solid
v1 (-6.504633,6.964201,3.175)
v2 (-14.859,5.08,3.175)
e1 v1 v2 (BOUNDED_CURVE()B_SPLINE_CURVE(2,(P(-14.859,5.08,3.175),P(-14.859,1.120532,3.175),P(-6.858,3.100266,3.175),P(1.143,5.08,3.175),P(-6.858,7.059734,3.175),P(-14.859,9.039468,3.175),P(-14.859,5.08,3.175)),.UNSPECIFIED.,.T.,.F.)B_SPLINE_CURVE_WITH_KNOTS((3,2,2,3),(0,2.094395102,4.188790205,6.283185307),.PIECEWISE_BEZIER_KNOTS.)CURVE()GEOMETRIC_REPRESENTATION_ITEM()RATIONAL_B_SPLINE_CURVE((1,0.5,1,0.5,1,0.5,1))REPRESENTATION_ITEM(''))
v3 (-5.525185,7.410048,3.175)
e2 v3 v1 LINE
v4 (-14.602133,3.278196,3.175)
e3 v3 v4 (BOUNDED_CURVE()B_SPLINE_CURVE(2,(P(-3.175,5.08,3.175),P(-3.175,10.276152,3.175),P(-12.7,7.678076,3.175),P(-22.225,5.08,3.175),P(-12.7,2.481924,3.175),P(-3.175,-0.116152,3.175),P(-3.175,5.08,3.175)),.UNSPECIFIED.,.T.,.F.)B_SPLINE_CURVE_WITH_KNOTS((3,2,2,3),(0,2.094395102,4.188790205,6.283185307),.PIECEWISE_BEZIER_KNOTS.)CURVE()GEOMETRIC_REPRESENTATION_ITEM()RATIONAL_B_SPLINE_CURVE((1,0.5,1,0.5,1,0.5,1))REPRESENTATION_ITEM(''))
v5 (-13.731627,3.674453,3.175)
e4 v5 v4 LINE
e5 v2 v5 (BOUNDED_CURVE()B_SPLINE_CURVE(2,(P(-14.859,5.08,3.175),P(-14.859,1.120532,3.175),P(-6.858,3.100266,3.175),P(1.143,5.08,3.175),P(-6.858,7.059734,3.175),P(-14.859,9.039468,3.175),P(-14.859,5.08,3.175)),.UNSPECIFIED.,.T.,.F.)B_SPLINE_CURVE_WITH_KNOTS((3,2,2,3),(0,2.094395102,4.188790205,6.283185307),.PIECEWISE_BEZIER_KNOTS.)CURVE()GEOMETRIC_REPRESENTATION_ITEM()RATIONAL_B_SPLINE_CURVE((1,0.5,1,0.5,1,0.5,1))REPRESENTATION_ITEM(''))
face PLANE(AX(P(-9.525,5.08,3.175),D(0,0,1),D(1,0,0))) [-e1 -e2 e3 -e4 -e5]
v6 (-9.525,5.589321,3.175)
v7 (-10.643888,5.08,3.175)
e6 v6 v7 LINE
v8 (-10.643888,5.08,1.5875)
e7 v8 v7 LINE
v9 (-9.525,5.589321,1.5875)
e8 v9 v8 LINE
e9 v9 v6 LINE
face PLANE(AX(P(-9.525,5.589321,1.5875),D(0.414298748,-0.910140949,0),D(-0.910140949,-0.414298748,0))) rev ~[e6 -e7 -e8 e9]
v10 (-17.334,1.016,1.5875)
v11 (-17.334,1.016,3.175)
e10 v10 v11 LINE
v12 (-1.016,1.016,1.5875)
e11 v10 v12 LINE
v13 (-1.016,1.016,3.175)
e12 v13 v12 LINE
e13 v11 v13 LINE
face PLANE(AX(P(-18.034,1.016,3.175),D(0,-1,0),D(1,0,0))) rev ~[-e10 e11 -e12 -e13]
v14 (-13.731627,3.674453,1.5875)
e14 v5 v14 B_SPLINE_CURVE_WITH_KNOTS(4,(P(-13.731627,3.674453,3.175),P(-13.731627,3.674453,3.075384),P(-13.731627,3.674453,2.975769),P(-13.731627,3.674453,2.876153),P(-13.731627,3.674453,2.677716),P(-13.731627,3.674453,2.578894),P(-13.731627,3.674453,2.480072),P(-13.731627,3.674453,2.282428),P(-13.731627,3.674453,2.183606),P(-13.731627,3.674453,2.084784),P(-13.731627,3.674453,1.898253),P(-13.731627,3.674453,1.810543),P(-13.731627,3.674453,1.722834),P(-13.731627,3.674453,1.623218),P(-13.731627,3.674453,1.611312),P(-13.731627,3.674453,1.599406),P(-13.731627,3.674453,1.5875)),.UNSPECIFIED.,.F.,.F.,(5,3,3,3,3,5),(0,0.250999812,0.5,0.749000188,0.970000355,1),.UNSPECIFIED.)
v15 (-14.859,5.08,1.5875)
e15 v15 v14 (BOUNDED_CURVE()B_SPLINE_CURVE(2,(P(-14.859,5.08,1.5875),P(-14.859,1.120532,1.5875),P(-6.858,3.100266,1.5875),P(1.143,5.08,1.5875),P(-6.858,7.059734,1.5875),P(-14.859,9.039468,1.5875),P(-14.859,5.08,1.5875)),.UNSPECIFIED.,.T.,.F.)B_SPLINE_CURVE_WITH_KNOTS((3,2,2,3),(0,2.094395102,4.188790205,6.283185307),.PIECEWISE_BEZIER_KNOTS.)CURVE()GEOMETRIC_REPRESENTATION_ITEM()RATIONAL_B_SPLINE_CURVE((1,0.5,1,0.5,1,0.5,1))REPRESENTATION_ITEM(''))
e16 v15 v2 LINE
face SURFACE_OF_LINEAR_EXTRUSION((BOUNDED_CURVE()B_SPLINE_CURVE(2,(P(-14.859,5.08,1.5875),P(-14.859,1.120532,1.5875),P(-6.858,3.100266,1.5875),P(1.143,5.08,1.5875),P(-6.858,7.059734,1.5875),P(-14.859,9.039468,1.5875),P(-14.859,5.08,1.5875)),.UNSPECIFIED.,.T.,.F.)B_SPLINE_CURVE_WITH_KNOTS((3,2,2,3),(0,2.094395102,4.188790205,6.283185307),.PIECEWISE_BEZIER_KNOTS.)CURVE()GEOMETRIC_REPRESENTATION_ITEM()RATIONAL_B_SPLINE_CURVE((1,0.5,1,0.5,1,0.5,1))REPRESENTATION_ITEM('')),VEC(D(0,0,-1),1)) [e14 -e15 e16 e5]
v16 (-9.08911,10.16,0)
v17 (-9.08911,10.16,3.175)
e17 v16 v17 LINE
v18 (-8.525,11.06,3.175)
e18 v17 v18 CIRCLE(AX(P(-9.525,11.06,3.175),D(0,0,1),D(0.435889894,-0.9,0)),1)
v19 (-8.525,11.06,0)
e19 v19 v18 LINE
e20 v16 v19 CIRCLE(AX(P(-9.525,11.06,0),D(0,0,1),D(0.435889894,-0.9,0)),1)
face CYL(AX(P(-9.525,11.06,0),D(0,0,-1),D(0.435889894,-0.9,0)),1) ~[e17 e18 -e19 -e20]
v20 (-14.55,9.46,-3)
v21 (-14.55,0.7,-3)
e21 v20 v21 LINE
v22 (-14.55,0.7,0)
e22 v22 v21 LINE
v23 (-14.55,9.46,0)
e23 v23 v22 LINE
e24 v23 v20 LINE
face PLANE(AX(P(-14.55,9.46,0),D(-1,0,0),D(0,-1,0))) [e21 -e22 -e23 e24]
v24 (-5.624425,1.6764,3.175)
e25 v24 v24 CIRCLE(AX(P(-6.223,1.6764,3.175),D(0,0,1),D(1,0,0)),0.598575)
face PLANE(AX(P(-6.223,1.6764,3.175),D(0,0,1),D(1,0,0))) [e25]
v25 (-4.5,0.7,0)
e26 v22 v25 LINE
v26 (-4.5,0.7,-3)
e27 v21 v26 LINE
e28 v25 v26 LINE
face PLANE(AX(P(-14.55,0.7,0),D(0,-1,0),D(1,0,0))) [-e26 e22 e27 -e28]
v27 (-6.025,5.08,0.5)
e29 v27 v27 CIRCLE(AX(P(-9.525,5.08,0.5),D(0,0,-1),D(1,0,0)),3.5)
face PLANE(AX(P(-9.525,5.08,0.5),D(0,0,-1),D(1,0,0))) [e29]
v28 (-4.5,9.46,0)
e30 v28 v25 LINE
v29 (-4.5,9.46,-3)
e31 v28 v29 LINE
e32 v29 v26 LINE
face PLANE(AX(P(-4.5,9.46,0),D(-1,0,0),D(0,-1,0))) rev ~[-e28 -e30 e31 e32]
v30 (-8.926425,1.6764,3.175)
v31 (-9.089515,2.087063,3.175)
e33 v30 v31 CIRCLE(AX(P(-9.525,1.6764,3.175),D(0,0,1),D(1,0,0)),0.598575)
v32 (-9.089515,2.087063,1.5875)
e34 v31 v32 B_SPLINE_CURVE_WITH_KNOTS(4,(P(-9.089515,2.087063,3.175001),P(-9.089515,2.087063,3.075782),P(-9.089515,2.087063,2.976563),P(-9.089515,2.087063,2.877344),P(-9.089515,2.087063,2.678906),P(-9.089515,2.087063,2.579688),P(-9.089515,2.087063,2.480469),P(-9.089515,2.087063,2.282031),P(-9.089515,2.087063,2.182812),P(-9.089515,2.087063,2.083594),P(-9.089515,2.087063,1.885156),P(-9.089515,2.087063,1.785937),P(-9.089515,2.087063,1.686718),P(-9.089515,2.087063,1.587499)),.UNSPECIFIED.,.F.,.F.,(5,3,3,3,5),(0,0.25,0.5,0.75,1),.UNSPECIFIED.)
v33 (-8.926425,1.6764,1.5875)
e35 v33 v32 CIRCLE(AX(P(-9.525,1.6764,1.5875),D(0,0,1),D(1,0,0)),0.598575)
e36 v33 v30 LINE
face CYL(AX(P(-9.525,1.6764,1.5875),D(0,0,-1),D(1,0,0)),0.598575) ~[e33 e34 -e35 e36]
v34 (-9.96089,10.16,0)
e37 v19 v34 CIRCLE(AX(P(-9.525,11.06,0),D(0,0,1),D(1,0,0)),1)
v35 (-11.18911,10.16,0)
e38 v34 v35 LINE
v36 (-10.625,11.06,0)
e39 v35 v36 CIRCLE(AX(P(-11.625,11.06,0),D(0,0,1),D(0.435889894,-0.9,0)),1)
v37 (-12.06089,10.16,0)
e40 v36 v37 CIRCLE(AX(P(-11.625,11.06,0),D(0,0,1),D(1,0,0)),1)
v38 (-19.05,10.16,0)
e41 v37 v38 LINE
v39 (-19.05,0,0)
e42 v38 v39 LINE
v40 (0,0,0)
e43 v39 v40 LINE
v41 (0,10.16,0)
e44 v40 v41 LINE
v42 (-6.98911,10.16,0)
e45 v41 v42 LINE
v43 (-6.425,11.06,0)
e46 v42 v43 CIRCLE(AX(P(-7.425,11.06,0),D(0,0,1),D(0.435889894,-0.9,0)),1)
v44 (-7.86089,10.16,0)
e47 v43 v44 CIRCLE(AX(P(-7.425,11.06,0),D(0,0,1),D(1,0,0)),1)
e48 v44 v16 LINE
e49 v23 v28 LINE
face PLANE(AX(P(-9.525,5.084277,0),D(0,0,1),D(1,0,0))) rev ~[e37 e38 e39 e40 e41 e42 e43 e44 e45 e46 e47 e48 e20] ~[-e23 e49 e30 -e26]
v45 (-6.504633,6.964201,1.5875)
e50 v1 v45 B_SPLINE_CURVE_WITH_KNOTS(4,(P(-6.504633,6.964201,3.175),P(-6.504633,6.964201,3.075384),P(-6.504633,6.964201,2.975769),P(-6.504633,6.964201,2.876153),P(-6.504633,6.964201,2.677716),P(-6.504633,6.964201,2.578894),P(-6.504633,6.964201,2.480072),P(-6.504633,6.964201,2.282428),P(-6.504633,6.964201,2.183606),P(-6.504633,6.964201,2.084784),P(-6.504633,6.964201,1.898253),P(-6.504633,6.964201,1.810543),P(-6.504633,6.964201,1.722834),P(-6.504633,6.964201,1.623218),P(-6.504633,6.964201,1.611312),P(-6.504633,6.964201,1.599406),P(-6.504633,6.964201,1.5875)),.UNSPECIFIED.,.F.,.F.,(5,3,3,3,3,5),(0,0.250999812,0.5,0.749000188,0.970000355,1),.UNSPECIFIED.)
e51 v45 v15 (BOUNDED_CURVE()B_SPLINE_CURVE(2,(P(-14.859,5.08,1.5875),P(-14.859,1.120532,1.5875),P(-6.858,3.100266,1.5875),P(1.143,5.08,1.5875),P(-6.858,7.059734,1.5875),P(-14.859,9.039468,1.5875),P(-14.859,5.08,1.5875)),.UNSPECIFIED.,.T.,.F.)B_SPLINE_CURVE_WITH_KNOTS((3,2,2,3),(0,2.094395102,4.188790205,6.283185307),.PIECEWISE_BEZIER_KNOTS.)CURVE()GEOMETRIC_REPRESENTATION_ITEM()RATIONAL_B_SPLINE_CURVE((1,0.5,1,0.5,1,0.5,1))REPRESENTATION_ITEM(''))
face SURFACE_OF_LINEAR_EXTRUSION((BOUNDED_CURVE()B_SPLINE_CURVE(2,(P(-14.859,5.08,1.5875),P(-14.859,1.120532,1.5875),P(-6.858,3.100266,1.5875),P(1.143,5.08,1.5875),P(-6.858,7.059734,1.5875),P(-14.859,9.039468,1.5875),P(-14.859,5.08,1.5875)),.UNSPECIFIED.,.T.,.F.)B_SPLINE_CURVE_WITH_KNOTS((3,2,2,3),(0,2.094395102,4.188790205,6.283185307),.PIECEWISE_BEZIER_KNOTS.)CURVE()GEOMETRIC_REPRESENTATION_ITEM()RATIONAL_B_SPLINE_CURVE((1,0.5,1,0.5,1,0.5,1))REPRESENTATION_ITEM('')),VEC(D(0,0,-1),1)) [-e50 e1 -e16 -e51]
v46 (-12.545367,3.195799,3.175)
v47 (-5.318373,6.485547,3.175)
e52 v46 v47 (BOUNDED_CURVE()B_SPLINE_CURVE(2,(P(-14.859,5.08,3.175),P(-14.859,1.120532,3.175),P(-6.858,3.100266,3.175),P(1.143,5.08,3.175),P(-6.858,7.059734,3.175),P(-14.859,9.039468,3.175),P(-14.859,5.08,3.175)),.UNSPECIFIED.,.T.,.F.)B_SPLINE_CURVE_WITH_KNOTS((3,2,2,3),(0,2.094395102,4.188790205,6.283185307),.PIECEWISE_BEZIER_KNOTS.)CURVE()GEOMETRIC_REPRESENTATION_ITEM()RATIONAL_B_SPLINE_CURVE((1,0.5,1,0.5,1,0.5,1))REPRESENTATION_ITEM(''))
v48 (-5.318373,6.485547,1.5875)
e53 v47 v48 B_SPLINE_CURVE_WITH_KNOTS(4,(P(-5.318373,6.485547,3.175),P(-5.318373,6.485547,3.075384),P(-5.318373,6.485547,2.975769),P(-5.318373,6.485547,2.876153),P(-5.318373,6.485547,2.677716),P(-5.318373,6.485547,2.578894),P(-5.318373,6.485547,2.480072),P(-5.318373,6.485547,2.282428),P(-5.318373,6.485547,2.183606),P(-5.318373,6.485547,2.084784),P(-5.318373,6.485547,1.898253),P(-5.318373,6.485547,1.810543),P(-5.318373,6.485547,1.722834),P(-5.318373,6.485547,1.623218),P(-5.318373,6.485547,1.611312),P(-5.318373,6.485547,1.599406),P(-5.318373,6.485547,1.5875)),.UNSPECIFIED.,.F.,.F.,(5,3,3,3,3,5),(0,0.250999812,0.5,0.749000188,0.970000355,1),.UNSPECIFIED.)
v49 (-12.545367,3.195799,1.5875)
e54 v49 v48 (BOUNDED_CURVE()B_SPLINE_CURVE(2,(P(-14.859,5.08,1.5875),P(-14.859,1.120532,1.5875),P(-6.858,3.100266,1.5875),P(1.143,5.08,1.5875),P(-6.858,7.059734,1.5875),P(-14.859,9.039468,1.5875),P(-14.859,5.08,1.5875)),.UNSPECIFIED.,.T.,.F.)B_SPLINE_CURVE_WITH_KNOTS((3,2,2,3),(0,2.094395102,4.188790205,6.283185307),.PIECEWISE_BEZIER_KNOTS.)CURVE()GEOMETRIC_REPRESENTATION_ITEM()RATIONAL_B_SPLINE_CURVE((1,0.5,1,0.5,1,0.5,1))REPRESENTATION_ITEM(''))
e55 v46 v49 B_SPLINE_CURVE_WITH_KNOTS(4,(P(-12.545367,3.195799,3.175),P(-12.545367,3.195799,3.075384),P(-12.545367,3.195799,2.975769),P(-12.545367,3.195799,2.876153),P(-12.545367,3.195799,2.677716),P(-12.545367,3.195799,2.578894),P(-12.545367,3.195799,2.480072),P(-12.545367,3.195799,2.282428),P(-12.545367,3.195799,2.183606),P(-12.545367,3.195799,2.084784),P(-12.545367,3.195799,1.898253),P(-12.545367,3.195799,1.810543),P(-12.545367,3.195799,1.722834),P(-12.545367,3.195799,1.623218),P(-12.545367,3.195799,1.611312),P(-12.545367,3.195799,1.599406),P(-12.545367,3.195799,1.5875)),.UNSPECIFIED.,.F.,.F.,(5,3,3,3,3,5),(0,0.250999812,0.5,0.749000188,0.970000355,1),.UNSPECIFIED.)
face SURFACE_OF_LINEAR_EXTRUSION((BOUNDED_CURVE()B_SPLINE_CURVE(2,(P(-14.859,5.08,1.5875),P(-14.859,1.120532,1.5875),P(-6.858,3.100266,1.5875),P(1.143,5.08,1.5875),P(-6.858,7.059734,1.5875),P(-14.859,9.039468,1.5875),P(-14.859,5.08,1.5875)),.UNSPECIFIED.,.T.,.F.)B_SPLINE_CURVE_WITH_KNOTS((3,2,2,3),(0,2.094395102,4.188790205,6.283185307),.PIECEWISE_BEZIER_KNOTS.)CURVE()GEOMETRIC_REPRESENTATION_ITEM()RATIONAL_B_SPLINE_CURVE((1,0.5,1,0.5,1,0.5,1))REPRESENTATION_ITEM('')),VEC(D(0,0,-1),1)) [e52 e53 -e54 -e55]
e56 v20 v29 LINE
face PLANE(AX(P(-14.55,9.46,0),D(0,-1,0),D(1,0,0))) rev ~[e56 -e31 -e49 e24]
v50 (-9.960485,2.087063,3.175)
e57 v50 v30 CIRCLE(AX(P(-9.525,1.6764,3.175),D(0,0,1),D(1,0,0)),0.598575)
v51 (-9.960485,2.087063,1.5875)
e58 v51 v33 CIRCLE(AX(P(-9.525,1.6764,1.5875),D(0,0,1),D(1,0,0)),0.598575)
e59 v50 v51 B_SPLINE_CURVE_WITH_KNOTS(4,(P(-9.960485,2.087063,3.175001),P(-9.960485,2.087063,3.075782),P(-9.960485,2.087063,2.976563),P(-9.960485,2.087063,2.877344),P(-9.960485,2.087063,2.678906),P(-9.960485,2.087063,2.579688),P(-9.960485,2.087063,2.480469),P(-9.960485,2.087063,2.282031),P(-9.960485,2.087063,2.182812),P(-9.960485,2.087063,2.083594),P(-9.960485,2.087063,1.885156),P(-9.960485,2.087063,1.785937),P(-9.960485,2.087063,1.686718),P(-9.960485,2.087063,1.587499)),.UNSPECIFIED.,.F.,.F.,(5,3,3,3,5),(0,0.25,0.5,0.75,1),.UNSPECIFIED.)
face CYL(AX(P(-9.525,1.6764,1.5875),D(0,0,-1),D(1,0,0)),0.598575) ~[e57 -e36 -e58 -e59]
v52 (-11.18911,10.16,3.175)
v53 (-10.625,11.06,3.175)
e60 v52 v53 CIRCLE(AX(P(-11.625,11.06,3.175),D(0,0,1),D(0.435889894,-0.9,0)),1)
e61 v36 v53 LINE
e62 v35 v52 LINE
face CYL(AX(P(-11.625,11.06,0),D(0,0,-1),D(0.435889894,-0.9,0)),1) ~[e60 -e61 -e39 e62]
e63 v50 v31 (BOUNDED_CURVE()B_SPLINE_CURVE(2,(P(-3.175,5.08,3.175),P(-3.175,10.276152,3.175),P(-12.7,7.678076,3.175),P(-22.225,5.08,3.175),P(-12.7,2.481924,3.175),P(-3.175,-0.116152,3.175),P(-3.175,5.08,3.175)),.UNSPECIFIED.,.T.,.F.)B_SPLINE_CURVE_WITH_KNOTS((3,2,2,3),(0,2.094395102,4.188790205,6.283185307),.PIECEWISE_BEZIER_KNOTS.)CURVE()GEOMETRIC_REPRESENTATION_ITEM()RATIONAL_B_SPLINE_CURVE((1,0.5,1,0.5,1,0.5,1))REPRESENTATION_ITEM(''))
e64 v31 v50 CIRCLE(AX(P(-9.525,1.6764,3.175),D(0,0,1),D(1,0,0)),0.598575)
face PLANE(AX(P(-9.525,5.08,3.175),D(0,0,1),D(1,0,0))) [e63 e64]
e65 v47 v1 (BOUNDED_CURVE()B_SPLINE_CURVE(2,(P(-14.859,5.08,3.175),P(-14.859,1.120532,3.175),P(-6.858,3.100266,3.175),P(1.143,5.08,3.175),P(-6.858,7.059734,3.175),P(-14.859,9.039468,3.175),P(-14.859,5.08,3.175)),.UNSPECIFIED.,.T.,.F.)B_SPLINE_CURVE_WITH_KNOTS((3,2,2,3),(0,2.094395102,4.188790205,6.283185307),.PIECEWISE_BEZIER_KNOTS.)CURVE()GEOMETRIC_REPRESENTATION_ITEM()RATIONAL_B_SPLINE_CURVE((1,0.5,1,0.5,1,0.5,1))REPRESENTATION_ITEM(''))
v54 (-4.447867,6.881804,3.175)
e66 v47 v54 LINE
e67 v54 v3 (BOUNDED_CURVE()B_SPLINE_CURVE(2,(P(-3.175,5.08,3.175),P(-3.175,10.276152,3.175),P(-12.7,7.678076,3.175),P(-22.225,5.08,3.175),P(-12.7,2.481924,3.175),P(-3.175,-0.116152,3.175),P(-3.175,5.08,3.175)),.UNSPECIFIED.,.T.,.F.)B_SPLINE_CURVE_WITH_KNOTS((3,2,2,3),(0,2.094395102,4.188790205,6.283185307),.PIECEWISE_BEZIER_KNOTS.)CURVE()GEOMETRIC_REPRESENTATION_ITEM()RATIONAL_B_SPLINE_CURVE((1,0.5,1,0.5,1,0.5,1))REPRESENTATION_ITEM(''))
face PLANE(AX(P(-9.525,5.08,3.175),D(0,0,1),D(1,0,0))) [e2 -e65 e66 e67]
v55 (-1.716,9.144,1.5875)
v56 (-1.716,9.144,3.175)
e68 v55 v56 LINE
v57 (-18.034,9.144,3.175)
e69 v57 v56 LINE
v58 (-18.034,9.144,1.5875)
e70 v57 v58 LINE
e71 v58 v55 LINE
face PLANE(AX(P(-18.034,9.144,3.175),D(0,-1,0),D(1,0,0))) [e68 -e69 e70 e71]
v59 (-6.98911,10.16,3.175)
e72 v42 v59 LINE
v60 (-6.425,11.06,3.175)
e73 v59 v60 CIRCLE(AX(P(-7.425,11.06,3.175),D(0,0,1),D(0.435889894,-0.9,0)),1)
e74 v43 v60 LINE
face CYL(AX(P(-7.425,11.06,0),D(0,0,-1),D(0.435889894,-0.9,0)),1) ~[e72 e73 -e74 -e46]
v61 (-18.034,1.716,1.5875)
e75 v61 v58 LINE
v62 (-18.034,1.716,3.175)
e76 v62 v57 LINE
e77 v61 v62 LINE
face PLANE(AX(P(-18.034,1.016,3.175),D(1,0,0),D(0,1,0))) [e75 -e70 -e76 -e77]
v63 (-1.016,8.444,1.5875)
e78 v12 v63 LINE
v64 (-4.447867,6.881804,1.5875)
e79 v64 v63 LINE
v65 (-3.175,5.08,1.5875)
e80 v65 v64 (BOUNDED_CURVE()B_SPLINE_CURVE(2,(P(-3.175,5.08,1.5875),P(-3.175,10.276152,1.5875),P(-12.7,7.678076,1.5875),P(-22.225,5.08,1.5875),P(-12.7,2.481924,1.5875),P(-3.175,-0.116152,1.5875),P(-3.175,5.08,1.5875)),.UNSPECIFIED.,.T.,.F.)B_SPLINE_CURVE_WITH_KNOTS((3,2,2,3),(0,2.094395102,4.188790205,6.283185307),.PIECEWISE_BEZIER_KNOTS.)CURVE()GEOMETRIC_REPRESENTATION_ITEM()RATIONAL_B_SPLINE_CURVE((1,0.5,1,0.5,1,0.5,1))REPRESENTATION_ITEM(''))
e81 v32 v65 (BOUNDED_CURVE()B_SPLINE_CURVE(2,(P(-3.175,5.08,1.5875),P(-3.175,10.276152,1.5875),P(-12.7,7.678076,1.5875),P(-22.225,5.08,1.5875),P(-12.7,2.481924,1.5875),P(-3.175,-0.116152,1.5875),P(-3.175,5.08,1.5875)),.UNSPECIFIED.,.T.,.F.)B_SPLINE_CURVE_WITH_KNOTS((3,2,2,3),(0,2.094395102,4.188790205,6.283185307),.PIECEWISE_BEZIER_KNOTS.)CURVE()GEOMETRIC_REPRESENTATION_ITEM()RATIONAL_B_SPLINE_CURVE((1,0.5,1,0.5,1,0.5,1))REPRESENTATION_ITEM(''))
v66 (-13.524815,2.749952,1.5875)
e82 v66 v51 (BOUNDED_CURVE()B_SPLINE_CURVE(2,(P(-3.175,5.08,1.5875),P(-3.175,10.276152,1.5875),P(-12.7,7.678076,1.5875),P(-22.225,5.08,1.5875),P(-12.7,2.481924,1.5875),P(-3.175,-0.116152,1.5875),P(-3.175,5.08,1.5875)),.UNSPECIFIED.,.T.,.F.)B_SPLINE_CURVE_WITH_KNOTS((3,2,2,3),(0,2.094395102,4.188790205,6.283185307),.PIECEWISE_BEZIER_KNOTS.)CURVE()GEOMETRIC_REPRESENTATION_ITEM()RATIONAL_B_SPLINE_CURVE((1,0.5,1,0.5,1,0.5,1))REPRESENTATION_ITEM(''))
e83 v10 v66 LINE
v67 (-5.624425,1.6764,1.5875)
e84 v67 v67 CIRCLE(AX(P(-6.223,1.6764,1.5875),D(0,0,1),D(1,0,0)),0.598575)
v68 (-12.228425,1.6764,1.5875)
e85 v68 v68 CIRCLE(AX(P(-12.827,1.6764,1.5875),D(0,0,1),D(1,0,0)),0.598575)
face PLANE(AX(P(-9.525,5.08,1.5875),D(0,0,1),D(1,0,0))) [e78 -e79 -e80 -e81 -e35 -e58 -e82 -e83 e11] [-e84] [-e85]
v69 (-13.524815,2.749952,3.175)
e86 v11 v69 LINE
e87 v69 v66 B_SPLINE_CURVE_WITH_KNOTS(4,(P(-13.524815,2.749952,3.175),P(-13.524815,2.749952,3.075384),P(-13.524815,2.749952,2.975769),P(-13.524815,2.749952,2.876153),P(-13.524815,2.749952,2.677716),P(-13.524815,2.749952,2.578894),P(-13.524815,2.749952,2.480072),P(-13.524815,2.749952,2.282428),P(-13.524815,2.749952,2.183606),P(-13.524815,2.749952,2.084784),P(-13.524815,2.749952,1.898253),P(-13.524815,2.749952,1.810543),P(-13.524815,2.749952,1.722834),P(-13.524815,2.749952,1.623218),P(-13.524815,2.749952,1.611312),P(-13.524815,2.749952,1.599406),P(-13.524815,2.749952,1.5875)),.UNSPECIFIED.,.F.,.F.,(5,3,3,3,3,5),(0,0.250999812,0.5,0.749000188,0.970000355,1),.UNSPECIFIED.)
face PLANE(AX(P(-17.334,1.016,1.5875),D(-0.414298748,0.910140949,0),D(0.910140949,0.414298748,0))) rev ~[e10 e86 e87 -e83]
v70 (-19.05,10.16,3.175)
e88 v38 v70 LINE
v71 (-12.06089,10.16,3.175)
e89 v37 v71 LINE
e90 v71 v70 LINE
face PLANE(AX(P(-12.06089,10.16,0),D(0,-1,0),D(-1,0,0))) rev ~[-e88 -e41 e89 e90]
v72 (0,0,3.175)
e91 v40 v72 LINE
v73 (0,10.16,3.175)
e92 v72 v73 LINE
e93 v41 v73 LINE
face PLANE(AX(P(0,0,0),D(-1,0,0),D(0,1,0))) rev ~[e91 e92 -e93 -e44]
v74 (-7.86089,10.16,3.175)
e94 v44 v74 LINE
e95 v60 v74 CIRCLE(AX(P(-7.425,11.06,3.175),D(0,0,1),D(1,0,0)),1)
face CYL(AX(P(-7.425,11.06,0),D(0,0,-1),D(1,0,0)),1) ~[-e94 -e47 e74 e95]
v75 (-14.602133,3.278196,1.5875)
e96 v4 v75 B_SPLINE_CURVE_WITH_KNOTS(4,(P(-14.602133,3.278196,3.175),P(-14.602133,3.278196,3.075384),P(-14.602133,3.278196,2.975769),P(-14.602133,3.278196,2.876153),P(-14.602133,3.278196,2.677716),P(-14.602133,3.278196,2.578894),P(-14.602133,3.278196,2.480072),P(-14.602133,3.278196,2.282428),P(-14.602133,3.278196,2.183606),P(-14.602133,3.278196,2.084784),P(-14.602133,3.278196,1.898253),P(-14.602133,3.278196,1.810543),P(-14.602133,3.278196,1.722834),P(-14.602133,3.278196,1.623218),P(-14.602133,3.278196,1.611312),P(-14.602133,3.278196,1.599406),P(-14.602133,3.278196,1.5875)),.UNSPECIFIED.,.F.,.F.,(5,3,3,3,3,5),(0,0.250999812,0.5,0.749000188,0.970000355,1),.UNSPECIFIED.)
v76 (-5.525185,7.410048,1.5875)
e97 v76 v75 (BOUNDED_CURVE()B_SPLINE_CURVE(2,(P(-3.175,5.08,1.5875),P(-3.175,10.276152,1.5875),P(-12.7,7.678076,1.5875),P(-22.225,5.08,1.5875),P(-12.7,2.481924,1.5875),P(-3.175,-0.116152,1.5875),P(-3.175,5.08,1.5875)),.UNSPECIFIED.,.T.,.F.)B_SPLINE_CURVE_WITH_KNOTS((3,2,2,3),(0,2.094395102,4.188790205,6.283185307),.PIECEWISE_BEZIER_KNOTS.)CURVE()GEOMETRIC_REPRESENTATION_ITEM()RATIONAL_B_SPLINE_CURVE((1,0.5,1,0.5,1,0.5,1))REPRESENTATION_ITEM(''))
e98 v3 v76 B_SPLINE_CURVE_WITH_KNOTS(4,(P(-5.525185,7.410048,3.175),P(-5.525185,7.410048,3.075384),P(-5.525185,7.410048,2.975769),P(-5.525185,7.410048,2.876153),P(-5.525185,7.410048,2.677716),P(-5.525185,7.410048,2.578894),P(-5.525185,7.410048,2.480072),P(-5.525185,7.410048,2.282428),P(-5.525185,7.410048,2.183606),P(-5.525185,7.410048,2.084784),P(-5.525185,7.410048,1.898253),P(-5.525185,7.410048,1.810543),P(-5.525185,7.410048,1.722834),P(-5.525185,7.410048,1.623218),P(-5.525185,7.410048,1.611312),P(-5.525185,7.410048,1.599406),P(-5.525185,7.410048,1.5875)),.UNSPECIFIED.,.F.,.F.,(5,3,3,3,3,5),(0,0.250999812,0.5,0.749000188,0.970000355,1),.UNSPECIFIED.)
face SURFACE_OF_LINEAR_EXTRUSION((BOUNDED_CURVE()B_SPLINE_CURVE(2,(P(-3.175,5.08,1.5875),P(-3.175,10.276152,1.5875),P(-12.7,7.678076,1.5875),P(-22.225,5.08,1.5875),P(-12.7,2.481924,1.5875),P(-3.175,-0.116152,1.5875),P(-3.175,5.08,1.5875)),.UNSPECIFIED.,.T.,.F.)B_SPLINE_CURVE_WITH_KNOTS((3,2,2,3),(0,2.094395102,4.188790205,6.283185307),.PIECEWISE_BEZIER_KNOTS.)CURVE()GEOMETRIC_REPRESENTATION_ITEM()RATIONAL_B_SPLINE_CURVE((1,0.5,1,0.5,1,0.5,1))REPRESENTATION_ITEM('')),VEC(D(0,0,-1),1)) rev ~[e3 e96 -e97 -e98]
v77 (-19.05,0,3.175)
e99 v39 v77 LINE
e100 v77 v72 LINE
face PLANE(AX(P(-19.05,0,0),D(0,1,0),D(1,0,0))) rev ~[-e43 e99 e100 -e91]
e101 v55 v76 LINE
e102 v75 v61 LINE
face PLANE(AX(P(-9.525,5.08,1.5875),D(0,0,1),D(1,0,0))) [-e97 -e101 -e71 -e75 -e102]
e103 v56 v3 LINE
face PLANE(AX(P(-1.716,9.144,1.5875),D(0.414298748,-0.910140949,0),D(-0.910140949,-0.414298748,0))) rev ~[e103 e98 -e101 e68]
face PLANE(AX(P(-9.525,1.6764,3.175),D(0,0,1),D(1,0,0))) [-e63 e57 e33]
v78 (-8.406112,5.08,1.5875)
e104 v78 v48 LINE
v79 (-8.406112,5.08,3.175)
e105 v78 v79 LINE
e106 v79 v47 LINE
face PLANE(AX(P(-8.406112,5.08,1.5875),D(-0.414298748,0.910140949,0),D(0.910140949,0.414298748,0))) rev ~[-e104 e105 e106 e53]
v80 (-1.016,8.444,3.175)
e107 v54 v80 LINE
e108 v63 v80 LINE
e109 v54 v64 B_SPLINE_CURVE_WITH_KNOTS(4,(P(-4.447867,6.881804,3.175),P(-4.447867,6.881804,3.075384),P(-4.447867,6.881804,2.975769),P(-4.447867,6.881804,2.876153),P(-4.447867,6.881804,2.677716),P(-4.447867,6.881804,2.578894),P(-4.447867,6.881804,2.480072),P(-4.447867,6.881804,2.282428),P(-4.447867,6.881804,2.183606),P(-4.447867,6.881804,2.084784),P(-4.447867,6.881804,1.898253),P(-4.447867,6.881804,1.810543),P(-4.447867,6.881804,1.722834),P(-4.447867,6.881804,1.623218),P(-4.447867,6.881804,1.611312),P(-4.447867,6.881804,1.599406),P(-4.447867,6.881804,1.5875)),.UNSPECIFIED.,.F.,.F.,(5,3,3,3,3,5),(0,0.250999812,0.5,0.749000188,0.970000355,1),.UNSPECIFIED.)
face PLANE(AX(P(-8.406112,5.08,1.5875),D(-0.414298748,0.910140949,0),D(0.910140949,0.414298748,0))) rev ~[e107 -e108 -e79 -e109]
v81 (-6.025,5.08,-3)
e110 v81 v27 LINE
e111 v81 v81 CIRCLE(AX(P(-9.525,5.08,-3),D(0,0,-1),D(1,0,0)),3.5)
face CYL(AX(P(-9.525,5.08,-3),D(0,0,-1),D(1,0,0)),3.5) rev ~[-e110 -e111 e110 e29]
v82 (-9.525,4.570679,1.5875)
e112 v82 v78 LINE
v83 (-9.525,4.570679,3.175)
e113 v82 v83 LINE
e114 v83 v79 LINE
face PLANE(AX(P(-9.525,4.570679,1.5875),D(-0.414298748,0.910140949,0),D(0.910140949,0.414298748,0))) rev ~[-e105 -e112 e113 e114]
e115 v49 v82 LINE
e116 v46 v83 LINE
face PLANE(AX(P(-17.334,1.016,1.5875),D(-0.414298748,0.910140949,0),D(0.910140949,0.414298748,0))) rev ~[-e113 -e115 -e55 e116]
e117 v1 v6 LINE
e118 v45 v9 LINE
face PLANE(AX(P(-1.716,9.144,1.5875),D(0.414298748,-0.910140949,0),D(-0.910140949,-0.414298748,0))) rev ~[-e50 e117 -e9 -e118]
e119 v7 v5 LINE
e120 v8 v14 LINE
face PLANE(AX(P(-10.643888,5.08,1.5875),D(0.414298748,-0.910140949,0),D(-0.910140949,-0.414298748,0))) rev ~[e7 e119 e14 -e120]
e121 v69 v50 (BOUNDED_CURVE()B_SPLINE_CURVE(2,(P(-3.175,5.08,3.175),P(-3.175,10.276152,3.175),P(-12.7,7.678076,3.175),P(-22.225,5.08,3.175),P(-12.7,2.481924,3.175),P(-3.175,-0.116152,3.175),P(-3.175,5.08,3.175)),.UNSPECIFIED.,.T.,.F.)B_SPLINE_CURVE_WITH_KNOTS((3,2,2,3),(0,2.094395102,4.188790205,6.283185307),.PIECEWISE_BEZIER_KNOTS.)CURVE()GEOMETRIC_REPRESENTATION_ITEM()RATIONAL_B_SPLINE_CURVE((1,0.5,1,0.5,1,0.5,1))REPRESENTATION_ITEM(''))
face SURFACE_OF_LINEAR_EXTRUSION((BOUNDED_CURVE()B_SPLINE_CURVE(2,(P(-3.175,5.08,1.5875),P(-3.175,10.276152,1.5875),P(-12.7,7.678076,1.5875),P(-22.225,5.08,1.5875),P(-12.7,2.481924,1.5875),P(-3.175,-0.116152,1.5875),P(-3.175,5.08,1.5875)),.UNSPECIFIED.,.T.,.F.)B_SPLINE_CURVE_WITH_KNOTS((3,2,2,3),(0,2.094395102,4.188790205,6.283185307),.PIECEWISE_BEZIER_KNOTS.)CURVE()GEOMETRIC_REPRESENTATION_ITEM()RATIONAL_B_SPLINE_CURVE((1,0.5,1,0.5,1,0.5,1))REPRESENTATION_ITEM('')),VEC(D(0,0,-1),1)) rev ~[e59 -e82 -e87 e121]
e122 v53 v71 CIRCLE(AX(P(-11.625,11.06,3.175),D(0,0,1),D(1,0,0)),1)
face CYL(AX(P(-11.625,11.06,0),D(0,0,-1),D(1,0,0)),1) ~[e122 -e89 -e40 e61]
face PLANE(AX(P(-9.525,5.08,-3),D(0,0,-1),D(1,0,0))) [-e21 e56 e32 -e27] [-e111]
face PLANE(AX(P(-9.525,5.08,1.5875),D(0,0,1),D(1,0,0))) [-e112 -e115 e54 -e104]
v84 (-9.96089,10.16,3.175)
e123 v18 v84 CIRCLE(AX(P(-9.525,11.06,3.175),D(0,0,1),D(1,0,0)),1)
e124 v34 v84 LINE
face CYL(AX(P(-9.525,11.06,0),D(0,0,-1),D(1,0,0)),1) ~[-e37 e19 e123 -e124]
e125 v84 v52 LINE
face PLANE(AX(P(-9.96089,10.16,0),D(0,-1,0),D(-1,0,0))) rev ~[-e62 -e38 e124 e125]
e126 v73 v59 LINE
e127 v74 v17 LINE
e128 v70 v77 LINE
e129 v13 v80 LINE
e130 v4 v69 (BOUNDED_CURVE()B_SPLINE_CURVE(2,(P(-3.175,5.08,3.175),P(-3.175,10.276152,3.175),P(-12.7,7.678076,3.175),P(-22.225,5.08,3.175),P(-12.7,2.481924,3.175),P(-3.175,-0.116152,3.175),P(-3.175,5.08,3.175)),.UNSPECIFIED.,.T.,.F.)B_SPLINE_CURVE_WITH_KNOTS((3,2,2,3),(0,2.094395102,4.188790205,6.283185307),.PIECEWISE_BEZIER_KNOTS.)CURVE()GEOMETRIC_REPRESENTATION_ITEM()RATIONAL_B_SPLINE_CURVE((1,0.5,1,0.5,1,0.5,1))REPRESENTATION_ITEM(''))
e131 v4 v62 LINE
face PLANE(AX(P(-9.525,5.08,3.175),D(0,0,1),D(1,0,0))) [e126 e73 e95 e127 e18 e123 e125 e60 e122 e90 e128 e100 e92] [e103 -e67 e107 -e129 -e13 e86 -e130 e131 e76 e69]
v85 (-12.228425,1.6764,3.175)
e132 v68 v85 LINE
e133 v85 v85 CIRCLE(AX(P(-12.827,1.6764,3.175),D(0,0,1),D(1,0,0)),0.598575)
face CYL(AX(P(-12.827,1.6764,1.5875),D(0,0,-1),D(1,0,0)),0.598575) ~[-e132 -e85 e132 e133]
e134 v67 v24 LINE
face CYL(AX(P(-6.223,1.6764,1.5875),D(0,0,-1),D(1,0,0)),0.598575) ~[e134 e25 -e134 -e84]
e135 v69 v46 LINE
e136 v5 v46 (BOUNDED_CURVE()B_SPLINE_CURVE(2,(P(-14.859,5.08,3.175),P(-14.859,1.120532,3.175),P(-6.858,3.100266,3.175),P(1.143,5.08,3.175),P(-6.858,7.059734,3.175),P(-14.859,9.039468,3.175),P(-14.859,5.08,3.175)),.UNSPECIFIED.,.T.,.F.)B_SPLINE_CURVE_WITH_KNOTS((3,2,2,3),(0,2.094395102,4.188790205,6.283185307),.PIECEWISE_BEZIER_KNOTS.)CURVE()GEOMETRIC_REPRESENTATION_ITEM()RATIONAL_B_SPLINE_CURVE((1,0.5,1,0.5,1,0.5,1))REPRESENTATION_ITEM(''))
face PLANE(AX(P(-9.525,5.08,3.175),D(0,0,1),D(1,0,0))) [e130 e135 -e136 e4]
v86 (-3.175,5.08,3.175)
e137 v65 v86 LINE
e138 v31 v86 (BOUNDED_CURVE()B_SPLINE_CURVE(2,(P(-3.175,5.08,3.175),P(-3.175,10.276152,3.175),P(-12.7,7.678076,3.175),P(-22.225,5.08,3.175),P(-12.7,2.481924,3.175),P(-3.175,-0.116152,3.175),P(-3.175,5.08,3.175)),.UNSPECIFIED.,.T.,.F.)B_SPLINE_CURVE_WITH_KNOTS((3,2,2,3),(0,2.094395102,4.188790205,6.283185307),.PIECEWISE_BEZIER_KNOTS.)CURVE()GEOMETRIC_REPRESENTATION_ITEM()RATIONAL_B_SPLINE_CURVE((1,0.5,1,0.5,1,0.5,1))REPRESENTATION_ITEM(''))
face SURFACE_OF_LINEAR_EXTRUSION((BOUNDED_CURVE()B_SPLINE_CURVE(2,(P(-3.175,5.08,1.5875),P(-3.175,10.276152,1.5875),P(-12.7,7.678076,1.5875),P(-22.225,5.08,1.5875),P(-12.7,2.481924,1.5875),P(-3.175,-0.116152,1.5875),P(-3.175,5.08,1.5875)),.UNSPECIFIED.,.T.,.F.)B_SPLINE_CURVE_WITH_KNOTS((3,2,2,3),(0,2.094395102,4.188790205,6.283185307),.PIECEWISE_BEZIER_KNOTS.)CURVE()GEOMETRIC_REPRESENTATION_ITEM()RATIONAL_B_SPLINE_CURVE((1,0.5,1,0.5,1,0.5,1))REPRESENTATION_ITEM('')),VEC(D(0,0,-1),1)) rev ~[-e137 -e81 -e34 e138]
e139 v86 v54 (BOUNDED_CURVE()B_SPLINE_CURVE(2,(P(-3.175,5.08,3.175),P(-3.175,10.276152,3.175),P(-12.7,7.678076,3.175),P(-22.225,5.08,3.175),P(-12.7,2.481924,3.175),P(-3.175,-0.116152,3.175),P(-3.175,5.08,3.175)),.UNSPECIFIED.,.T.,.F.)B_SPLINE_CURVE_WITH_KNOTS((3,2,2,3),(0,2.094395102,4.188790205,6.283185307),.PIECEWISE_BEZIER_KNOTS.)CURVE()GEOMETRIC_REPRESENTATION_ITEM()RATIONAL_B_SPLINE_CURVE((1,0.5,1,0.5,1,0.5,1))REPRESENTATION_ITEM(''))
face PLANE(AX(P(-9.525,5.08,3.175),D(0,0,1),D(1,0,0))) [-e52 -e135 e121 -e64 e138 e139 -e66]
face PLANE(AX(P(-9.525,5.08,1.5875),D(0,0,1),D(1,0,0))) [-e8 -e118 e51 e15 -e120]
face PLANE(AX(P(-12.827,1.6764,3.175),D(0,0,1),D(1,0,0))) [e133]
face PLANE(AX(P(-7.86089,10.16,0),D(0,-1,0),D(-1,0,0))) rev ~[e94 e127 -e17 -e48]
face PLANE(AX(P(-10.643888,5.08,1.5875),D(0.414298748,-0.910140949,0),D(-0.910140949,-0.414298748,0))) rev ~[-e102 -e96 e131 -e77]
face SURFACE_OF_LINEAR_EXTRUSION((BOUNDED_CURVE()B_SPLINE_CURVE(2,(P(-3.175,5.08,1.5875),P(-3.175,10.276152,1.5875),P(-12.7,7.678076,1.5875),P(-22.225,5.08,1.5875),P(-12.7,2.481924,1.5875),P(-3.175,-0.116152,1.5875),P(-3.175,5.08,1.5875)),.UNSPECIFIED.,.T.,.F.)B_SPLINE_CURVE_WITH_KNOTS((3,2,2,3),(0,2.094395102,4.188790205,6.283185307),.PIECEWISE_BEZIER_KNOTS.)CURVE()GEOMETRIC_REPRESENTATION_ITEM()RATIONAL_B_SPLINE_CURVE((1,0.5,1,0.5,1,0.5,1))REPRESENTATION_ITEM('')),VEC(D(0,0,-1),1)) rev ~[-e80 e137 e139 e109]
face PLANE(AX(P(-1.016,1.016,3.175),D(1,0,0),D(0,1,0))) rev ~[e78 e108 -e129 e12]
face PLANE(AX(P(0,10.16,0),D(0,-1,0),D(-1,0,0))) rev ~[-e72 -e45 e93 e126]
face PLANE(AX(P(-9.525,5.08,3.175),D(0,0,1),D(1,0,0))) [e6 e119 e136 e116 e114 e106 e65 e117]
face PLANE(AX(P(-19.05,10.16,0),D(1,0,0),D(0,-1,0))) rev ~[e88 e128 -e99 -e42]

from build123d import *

# Parameters (mm, degrees)
F1_DEPTH  = 3.175
F2_W      = 17.018
F2_H      = 8.128
F3_DEPTH  = 1.5875
F5_DEPTH  = 1.5875
F7_DEPTH  = 1.5875
F8_R      = 0.598574631
F9_DEPTH  = 1.5875
F10_W     = 10.05
F10_H     = 8.76
F11_DEPTH = 3
F12_R     = 3.5
F13_DEPTH = 3.5


with BuildPart() as f1:
    # F0 (on Top) → F1 (new body)
    with BuildSketch(Plane.XY):
        with BuildLine():
            Line((-12.0608898944, 10.16), (-19.05, 10.16))
            Line((-19.05, 10.16), (-19.05, 0))
            Line((-19.05, 0), (0, 0))
            Line((0, 0), (0, 10.16))
            Line((0, 10.16), (-6.9891101056, 10.16))
            ThreePointArc((-6.9891101056, 10.16), (-7.425, 10.06), (-7.8608898944, 10.16))
            Line((-7.8608898944, 10.16), (-9.0891101056, 10.16))
            ThreePointArc((-9.0891101056, 10.16), (-9.525, 10.06), (-9.9608898944, 10.16))
            Line((-9.9608898944, 10.16), (-11.1891101056, 10.16))
            ThreePointArc((-11.1891101056, 10.16), (-11.625, 10.06), (-12.0608898944, 10.16))
        make_face()
        with BuildLine():
            ThreePointArc((-10.625, 11.06), (-12.1560885546, 11.9073163206), (-12.0608898944, 10.16))
            Line((-12.0608898944, 10.16), (-11.1891101056, 10.16))
            ThreePointArc((-11.1891101056, 10.16), (-10.7776836794, 10.5289114454), (-10.625, 11.06))
        make_face()
        with BuildLine():
            Line((-11.1891101056, 10.16), (-12.0608898944, 10.16))
            ThreePointArc((-12.0608898944, 10.16), (-11.625, 10.06), (-11.1891101056, 10.16))
        make_face()
        with BuildLine():
            ThreePointArc((-8.525, 11.06), (-10.0560885546, 11.9073163206), (-9.9608898944, 10.16))
            Line((-9.9608898944, 10.16), (-9.0891101056, 10.16))
            ThreePointArc((-9.0891101056, 10.16), (-8.6776836794, 10.5289114454), (-8.525, 11.06))
        make_face()
        with BuildLine():
            Line((-9.0891101056, 10.16), (-9.9608898944, 10.16))
            ThreePointArc((-9.9608898944, 10.16), (-9.525, 10.06), (-9.0891101056, 10.16))
        make_face()
        with BuildLine():
            ThreePointArc((-7.8608898944, 10.16), (-7.425, 10.06), (-6.9891101056, 10.16))
            Line((-6.9891101056, 10.16), (-7.8608898944, 10.16))
        make_face()
        with BuildLine():
            Line((-7.8608898944, 10.16), (-6.9891101056, 10.16))
            ThreePointArc((-6.9891101056, 10.16), (-6.5776836794, 10.5289114454), (-6.425, 11.06))
            ThreePointArc((-6.425, 11.06), (-7.9560885546, 11.9073163206), (-7.8608898944, 10.16))
        make_face()
    extrude(amount=F1_DEPTH)

    # F2 (on face) → F3 (cut)
    with BuildSketch(Plane.XY.offset(3.175)):
        with Locations((-9.525, 5.08)):
            Rectangle(F2_W, F2_H)
    extrude(amount=-F3_DEPTH, mode=Mode.SUBTRACT)

    # F4 (on face) → F5 (join, through all)
    with BuildSketch(Plane.XY.offset(1.5875)):
        Polygon((-1.716, 9.144), (-9.525, 5.5893209952), (-10.6438879914, 5.08), (-18.034, 1.716), (-18.034, 1.016), (-17.334, 1.016), (-9.525, 4.5706790048), (-8.4061120086, 5.08), (-1.016, 8.444), (-1.016, 9.144), align=None)
    extrude(amount=F5_DEPTH)

    # F6 (on face) → F7 (join, through all)
    with BuildSketch(Plane.XY.offset(1.5875)):
        with BuildLine():
            add(Edge.make_bspline(
                [(-3.175, 5.08), (-3.175, 10.2761524227), (-12.7, 7.6780762114), (-22.225, 5.08), (-12.7, 2.4819237886), (-3.175, -0.1161524227), (-3.175, 5.08)],
                knots=[0, 0, 0, 2.0943951024, 2.0943951024, 4.1887902048, 4.1887902048, 6.2831853072, 6.2831853072, 6.2831853072], degree=2, weights=[1, 0.5, 1, 0.5, 1, 0.5, 1]))
        make_face()
        with BuildLine():
            add(Edge.make_bspline(
                [(-14.859, 5.08), (-14.859, 1.1205318539), (-6.858, 3.1002659269), (1.143, 5.08), (-6.858, 7.0597340731), (-14.859, 9.0394681461), (-14.859, 5.08)],
                knots=[0, 0, 0, 2.0943951024, 2.0943951024, 4.1887902048, 4.1887902048, 6.2831853072, 6.2831853072, 6.2831853072], degree=2, weights=[1, 0.5, 1, 0.5, 1, 0.5, 1]))
        make_face(mode=Mode.SUBTRACT)
    extrude(amount=F7_DEPTH)

    # F8 (on face) → F9 (join, through all)
    with BuildSketch(Plane.XY.offset(1.5875)):
        with Locations((-12.827, 1.6764)):
            Circle(F8_R)
        with Locations((-6.223, 1.6764)):
            Circle(F8_R)
        with Locations((-9.525, 1.6764)):
            Circle(F8_R)
    extrude(amount=F9_DEPTH)

    # F10 (on face) → F11 (join)
    with BuildSketch(Plane(origin=(0, 0, 0), x_dir=(1, 0, 0), z_dir=(0, 0, -1))):
        with Locations((-9.525, -5.08)):
            Rectangle(F10_W, F10_H)
    extrude(amount=F11_DEPTH)

    # F12 (on face) → F13 (cut)
    with BuildSketch(Plane(origin=(0, 0, -3), x_dir=(1, 0, 0), z_dir=(0, 0, -1))):
        with Locations((-9.525, -5.08)):
            Circle(F12_R)
    extrude(amount=-F13_DEPTH, mode=Mode.SUBTRACT)


solid = f1.part
